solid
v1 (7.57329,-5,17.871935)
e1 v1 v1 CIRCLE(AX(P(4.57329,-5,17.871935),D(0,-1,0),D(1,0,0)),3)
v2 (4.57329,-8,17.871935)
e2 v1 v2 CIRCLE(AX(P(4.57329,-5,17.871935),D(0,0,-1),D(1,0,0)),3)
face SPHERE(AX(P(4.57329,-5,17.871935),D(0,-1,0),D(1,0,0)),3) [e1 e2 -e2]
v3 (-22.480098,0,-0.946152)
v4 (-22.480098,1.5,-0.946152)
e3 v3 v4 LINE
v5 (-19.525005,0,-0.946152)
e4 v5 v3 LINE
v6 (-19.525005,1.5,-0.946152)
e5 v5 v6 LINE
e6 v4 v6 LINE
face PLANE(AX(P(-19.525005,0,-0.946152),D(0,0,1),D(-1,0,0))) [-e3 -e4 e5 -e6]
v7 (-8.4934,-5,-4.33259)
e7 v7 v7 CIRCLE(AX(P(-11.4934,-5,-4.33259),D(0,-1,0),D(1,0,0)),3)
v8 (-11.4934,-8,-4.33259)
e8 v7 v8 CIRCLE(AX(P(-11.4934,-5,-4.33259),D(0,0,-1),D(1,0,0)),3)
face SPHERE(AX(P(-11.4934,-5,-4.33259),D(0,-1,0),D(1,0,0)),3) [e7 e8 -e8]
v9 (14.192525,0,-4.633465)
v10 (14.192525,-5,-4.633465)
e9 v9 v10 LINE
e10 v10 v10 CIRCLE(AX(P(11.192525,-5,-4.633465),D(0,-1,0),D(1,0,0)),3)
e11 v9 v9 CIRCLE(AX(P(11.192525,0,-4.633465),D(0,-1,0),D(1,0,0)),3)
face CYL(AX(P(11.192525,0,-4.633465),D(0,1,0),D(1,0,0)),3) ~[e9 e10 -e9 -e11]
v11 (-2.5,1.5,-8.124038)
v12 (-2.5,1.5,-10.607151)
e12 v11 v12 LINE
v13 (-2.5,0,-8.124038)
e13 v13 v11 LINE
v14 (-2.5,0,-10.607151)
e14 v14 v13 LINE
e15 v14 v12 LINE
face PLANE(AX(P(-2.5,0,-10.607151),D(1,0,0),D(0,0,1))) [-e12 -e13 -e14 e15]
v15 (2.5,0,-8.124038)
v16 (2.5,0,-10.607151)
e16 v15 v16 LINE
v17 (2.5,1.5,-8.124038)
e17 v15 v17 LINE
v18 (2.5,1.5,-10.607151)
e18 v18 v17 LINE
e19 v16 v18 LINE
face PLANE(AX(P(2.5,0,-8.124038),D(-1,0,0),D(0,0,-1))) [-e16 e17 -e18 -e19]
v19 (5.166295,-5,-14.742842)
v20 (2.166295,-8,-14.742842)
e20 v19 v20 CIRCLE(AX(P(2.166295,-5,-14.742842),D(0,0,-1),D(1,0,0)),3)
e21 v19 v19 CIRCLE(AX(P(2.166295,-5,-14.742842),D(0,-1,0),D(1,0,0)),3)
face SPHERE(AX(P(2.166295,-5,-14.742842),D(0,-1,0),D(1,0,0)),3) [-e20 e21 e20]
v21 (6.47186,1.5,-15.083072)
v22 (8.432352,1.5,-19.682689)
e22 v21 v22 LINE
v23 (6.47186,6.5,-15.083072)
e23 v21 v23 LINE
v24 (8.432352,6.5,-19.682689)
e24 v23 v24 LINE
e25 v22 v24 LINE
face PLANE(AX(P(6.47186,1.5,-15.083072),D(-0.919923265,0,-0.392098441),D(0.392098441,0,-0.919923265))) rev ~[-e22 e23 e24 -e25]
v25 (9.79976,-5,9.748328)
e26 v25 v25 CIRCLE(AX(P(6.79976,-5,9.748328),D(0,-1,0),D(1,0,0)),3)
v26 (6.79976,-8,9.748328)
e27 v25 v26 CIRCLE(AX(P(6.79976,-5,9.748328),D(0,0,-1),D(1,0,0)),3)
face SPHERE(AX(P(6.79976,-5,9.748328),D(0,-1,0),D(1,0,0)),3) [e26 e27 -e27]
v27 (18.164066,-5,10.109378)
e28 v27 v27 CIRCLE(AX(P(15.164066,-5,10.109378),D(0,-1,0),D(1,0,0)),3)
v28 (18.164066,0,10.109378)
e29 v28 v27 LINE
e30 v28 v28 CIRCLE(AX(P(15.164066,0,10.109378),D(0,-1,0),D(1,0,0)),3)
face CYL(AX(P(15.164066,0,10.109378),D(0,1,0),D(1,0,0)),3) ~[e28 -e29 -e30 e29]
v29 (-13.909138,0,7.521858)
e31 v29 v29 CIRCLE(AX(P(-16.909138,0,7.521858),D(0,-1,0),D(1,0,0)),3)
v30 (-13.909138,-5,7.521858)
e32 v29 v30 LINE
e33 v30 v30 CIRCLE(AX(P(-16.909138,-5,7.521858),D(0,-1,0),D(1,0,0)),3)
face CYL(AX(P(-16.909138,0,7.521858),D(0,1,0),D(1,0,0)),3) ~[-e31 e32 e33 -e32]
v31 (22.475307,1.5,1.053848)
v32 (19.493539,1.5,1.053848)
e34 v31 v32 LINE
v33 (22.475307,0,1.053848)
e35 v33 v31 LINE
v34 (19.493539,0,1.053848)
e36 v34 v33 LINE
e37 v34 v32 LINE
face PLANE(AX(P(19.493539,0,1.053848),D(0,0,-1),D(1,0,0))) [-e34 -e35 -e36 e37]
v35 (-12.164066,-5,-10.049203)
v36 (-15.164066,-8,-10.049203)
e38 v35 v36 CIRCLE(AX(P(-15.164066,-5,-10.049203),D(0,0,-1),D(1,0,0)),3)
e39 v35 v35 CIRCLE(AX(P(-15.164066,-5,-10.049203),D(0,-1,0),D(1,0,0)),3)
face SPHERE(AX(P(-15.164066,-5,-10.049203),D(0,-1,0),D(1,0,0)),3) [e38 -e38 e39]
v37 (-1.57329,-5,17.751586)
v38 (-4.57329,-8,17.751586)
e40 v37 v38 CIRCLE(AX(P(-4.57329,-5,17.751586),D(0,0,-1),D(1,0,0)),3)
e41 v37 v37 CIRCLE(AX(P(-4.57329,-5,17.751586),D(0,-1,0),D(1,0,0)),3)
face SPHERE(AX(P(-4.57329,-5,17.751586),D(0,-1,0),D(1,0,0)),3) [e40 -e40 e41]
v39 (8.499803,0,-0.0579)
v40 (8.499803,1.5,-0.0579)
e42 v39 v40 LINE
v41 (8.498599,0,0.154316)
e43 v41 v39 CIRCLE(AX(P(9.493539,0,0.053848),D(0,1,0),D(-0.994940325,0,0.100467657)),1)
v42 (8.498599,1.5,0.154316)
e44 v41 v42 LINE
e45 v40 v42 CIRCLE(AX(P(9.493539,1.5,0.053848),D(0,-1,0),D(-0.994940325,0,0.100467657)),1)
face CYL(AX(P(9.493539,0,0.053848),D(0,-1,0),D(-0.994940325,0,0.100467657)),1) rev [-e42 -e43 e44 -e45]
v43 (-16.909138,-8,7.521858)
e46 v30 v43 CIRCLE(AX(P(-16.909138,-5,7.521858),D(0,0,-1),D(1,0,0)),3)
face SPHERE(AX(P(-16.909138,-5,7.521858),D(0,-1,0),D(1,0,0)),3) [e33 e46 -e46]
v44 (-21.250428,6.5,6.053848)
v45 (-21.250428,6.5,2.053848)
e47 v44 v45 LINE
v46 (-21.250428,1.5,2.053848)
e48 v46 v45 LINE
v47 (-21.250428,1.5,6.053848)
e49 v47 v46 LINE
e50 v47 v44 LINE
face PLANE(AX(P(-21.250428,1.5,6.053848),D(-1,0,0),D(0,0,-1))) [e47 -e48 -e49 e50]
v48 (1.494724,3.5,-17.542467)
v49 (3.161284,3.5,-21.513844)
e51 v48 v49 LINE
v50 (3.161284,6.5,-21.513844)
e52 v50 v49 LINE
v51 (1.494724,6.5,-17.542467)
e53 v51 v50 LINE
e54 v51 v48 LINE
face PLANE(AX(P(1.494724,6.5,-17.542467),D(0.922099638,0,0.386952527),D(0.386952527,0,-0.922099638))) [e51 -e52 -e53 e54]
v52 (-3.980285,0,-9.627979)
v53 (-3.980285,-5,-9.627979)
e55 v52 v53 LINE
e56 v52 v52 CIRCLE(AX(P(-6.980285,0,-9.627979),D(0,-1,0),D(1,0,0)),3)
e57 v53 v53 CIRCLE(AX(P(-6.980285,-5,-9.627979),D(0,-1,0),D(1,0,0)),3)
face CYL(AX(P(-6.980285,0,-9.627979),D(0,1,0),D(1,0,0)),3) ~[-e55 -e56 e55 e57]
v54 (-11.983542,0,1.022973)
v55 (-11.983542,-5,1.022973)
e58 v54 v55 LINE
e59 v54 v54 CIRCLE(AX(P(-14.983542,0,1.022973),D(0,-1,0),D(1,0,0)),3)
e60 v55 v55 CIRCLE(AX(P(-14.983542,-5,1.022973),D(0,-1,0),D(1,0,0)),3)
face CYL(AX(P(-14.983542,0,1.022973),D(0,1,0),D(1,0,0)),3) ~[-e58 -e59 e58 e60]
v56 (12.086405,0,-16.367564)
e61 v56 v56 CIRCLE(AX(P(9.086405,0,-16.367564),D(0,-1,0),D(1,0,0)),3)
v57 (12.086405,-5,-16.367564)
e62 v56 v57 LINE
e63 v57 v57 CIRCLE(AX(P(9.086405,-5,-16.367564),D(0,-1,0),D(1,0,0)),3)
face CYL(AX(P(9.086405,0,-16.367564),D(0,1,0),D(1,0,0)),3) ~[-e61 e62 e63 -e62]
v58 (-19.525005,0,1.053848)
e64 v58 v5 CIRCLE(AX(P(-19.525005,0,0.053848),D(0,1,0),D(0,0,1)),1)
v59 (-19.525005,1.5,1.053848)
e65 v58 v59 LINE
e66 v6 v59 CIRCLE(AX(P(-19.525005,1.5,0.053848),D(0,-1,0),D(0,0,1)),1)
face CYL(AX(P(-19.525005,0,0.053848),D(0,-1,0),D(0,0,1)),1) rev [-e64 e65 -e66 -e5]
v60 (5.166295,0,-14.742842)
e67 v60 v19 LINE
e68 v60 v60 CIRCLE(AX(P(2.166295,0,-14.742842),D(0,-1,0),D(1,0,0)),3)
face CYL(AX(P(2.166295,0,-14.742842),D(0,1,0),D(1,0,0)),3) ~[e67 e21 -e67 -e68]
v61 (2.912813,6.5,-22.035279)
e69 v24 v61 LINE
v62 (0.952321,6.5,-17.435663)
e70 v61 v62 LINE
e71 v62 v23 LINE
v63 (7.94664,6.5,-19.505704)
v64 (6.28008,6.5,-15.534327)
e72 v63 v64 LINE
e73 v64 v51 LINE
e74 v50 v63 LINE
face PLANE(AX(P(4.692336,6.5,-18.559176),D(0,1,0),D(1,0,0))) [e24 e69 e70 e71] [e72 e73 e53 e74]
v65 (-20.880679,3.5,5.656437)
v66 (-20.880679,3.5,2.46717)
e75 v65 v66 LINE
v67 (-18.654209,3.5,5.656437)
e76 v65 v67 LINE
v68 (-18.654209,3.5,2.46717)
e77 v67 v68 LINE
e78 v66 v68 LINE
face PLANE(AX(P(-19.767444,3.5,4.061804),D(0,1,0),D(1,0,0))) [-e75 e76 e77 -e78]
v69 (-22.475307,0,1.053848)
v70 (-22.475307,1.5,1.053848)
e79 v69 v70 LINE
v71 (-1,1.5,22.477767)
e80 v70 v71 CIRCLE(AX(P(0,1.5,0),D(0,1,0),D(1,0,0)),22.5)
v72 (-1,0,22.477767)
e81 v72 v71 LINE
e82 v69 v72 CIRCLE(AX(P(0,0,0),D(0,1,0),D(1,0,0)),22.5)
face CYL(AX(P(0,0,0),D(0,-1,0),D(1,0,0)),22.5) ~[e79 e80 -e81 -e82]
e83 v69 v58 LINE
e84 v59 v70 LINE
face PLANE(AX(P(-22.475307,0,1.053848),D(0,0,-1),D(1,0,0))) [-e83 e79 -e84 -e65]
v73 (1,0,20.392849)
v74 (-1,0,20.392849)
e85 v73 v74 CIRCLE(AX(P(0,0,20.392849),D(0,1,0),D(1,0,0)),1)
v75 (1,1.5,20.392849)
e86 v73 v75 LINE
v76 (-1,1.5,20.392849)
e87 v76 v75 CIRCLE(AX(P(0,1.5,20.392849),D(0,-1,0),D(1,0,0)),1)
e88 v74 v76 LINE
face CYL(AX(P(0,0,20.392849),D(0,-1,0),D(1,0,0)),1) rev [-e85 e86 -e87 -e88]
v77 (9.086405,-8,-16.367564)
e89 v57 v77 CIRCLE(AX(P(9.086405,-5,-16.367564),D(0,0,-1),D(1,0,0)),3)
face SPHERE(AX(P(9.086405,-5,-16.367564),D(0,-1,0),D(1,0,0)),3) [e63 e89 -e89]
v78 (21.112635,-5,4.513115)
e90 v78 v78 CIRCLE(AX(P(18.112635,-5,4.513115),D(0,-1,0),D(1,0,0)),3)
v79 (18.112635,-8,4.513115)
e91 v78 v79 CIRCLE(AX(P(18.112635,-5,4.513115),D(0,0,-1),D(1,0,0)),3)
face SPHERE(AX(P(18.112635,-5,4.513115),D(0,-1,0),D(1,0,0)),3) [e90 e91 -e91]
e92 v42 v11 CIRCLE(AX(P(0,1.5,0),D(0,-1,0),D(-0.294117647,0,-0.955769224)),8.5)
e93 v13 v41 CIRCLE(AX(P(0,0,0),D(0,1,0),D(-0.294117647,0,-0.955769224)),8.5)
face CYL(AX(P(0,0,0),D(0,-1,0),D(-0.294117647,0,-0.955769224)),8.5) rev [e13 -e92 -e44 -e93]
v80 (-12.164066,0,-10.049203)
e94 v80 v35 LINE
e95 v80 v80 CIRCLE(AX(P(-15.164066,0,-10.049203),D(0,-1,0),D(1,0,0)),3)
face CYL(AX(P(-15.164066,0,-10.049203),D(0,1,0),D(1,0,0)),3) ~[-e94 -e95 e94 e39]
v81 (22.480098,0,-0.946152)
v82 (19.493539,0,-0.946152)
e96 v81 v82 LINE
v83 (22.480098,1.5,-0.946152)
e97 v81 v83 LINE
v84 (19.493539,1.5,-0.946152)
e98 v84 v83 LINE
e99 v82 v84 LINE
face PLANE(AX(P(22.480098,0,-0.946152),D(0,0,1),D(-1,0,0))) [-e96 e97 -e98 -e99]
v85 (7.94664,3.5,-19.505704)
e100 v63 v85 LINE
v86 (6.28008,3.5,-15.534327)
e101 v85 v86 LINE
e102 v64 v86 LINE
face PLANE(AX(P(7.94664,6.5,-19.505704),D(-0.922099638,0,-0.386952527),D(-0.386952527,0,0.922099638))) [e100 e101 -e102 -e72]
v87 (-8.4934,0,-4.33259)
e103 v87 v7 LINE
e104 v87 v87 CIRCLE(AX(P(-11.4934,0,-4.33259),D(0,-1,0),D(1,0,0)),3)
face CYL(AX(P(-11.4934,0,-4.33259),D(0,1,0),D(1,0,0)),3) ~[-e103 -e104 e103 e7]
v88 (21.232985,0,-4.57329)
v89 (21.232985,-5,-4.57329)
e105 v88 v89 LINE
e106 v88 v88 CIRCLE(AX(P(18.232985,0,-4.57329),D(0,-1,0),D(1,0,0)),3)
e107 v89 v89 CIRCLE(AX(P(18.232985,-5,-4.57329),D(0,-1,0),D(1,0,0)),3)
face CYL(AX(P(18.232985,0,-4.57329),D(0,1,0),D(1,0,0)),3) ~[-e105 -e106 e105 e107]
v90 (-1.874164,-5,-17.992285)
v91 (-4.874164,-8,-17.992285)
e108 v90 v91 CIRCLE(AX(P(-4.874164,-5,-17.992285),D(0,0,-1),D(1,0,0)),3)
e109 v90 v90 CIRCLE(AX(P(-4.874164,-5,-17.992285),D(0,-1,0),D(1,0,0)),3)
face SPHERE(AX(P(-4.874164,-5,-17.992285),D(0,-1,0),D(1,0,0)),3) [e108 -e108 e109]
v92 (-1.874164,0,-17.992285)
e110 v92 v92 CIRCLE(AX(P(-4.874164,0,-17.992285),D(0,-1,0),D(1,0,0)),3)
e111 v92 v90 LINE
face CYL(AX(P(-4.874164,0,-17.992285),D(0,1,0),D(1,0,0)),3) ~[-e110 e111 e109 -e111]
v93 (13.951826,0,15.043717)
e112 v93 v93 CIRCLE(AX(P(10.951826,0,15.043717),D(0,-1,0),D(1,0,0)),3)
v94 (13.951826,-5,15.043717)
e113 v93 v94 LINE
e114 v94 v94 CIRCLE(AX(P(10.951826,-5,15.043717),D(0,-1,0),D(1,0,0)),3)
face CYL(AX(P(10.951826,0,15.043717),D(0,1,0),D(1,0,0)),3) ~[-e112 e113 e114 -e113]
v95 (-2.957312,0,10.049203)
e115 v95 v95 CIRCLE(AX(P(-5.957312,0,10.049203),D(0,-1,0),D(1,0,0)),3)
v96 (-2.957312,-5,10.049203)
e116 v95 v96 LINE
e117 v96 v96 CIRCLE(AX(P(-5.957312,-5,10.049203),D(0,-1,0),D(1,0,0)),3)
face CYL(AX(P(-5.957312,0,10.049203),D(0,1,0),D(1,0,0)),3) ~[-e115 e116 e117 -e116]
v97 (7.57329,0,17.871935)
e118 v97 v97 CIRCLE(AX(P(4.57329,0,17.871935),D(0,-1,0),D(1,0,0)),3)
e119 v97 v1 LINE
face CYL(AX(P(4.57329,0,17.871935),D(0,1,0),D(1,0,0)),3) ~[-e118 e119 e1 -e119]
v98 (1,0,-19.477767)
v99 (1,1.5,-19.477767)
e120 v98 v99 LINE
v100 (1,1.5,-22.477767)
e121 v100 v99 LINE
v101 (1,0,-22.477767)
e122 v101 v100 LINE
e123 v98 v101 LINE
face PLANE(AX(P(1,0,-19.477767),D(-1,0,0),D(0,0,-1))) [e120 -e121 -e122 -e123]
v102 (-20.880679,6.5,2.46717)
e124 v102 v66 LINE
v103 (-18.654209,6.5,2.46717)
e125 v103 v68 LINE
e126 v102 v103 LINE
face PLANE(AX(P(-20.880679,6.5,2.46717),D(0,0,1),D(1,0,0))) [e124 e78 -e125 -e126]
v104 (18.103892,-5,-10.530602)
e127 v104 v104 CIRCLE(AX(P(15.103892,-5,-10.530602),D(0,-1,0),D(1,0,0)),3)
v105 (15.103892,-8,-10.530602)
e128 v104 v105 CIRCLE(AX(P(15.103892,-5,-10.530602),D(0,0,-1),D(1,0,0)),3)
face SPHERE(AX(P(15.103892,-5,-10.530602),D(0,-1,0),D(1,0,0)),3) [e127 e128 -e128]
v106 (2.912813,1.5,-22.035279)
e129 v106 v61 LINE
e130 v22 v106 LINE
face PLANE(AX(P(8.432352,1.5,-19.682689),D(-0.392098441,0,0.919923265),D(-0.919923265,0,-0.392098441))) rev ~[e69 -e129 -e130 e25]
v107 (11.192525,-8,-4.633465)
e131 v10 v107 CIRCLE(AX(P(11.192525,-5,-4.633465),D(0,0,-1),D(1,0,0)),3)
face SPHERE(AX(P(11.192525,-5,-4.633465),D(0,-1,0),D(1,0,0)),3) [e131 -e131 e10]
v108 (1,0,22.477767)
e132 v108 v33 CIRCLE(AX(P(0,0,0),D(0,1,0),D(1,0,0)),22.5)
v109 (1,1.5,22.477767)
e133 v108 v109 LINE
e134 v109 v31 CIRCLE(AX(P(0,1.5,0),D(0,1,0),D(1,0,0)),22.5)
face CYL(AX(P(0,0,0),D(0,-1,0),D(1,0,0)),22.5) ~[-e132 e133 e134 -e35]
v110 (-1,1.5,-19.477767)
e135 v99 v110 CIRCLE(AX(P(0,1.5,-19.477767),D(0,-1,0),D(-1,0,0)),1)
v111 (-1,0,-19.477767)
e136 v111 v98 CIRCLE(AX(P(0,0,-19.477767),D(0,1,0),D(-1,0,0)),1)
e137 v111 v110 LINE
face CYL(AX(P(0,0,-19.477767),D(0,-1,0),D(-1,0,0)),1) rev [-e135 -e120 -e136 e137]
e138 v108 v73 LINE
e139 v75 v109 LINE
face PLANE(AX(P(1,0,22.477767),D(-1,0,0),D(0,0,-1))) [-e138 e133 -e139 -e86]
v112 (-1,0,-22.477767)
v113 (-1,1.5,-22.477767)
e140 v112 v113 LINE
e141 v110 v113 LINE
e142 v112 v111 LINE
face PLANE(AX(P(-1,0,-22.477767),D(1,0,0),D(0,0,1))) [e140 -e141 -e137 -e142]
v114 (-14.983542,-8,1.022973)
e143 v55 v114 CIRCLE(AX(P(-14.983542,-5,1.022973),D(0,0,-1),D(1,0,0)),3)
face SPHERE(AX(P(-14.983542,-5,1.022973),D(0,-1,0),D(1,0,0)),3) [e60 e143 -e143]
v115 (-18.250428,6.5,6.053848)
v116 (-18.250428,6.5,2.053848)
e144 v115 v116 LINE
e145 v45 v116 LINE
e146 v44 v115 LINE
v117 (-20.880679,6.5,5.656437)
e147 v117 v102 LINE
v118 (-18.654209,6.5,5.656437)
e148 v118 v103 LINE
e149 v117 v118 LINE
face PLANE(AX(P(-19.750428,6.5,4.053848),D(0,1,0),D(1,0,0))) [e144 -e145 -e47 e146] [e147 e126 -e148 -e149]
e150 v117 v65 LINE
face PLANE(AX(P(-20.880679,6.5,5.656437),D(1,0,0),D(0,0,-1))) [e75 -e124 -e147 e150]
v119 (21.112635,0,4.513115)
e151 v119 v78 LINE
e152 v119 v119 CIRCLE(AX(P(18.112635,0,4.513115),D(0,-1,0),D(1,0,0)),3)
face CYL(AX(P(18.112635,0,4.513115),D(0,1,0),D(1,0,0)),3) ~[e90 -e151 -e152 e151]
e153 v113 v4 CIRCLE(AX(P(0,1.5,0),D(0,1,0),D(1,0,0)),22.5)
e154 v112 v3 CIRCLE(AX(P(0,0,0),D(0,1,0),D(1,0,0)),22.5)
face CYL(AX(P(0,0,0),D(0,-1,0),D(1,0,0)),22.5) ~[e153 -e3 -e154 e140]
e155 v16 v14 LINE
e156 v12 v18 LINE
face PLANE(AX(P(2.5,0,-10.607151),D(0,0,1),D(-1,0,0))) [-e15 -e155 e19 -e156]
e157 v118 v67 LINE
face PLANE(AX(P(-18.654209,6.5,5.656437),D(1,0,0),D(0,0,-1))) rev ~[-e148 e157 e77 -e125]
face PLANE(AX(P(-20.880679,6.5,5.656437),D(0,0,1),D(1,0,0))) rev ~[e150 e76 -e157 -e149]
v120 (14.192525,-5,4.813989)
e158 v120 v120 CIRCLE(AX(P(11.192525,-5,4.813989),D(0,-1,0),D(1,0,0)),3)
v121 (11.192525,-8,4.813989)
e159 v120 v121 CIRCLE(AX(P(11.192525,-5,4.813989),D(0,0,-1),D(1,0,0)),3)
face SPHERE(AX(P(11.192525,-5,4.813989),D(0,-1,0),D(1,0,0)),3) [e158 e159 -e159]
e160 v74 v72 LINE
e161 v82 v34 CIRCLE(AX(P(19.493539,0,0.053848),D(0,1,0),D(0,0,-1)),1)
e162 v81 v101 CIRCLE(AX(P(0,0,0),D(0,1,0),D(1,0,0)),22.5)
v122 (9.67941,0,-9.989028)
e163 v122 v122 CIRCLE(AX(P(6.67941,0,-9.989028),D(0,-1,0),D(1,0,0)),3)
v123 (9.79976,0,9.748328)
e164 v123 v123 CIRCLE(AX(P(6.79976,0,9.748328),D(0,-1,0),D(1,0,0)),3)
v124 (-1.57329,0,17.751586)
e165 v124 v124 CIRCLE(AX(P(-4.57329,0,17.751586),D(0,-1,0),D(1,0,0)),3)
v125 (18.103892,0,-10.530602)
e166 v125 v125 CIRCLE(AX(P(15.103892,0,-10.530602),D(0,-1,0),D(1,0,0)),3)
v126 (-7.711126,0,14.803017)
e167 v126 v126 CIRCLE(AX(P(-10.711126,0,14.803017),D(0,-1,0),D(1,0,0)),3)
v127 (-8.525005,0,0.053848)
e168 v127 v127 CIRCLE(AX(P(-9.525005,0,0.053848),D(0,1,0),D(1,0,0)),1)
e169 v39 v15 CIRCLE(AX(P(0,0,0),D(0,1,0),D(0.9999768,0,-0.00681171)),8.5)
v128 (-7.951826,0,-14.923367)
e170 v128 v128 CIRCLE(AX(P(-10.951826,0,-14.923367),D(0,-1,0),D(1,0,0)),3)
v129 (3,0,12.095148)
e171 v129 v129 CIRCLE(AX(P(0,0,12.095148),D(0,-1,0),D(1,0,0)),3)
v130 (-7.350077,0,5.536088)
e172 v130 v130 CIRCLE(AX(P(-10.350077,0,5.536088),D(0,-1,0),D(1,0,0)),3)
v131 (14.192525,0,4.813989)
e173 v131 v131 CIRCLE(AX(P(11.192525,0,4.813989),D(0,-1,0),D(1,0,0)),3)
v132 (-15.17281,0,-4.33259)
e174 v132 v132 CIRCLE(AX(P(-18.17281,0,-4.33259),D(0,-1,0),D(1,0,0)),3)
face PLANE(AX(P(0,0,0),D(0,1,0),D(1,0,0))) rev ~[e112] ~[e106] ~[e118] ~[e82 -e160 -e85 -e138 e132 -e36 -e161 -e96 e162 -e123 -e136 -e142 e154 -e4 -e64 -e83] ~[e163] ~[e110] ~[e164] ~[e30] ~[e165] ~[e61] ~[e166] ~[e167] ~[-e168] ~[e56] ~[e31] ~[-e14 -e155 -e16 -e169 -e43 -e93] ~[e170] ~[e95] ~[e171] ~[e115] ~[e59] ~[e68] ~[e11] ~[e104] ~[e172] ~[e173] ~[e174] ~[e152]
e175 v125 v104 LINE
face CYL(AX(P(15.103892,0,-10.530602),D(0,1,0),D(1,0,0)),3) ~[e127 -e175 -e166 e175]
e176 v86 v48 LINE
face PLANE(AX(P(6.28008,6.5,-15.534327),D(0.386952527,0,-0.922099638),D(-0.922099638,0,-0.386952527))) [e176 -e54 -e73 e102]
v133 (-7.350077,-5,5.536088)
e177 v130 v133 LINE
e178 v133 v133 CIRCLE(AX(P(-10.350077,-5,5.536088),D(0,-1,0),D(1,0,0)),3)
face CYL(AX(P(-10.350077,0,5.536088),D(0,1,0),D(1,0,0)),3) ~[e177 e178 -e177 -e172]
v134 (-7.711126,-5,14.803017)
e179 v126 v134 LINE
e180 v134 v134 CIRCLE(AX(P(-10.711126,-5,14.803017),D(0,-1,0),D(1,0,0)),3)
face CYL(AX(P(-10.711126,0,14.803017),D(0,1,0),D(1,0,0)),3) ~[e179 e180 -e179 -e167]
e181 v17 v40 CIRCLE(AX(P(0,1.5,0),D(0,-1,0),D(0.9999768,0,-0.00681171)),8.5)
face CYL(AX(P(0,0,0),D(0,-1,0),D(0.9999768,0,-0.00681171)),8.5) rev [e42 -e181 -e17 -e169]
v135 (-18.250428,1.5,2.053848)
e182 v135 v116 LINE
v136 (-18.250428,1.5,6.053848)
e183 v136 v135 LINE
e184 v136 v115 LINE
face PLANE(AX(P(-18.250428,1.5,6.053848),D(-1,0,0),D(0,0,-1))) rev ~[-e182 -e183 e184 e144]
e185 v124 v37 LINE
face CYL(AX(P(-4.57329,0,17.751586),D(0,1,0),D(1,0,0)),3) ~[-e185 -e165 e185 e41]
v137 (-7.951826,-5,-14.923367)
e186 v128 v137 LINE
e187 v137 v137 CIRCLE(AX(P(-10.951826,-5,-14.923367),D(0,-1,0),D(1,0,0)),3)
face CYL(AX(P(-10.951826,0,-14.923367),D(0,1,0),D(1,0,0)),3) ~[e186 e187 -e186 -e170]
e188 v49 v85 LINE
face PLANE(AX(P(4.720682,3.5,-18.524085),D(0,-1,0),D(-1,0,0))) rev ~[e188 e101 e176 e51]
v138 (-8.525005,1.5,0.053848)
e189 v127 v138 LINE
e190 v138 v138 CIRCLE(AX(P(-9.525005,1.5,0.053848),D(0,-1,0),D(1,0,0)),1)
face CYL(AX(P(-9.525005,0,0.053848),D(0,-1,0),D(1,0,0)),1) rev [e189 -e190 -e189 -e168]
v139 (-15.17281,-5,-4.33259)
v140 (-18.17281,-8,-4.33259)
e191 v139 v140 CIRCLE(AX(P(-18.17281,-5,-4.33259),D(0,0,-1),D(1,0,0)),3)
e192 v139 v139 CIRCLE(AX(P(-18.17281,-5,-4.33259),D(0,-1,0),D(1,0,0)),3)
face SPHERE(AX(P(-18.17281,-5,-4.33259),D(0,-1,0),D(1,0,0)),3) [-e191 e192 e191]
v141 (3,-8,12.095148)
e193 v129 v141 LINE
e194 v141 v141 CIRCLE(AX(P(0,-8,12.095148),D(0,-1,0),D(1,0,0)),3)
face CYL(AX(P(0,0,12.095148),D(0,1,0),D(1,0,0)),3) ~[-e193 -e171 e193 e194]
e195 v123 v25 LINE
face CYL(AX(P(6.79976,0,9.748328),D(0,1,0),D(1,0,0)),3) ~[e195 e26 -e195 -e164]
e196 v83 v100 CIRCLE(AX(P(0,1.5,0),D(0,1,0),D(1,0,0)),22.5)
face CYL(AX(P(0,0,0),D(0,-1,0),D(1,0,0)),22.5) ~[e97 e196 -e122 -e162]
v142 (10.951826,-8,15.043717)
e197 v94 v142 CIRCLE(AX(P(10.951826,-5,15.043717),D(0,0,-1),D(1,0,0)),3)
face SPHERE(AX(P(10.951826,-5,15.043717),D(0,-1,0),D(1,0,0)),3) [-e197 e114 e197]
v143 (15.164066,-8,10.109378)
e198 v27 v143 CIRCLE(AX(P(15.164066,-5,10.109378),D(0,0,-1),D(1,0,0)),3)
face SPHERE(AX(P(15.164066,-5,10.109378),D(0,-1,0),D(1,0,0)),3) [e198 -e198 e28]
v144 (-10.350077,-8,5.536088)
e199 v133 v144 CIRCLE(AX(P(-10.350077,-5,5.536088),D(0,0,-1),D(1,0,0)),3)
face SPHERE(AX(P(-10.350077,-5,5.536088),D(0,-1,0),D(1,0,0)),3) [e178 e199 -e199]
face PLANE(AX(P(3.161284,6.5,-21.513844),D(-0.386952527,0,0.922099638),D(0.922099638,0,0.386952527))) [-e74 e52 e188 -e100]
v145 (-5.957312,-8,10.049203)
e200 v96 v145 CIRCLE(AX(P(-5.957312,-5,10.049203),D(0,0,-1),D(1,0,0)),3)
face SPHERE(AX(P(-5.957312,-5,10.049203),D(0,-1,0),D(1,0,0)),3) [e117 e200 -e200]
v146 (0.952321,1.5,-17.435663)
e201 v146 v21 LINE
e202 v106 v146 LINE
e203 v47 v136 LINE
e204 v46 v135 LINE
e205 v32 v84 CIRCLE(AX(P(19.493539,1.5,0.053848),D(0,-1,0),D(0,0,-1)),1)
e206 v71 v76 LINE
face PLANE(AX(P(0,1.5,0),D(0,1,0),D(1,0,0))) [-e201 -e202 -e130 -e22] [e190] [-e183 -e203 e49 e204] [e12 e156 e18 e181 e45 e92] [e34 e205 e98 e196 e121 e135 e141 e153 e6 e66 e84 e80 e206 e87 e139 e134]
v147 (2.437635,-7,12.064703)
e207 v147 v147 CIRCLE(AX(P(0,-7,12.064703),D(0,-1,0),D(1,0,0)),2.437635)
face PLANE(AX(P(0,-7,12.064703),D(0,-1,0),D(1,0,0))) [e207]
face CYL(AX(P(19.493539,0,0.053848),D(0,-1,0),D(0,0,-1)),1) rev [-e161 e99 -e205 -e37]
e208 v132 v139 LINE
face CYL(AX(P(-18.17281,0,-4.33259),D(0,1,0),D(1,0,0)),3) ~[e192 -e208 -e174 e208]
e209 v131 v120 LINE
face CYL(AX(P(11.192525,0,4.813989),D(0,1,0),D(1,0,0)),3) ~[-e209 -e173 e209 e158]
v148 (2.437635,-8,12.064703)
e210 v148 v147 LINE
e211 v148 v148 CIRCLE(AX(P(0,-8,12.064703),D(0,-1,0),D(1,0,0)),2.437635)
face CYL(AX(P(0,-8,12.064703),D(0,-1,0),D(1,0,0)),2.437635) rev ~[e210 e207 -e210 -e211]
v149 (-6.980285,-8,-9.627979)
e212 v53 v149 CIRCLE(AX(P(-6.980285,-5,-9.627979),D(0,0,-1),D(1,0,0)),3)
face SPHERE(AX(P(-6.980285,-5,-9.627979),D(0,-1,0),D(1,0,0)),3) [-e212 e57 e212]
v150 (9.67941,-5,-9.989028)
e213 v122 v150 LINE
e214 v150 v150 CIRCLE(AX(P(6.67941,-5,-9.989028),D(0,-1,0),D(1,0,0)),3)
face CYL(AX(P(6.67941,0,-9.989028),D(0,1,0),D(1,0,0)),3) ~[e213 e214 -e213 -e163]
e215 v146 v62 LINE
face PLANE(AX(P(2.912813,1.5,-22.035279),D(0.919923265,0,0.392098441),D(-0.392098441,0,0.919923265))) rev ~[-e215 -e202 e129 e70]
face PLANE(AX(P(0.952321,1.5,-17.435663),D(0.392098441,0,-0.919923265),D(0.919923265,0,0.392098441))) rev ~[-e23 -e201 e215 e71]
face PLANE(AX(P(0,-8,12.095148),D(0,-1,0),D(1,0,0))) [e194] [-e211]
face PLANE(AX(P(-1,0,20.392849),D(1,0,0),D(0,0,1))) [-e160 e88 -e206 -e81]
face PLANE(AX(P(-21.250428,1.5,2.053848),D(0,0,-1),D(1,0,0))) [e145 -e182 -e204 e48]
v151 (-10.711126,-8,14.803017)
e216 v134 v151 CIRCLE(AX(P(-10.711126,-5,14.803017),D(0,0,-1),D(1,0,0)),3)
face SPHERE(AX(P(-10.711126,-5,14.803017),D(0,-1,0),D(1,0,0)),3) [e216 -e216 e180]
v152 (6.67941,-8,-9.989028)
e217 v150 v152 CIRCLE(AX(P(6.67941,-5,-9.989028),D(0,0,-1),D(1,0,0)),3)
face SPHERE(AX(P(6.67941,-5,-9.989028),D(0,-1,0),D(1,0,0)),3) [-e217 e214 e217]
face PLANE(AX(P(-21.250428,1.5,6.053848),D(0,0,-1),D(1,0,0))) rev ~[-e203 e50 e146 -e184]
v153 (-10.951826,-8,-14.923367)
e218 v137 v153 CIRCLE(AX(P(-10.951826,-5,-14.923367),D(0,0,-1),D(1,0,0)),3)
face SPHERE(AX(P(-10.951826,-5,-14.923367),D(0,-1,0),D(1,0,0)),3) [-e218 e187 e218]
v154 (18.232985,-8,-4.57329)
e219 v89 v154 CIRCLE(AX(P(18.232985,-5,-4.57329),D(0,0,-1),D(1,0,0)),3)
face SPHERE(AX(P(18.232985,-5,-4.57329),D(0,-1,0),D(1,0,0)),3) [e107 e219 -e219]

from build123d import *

# Parameters (mm, degrees)
SKETCH1_R           = 22.5
BOSS_EXTRUDE1_DEPTH = 1.5
SKETCH1_4_R         = 1
CUT_EXTRUDE1_DEPTH  = 10
SKETCH3_W           = 3
SKETCH3_H           = 4
BOSS_EXTRUDE2_DEPTH = 5
SKETCH4_R           = 3
BOSS_EXTRUDE3_DEPTH = 8
FILLET1_R           = 3
SKETCH5_R           = 2.437634963
CUT_EXTRUDE2_DEPTH  = 1
SKETCH6_W           = 2.226470075
SKETCH6_H           = 3.189267945
CUT_EXTRUDE3_DEPTH  = 3


with BuildPart() as part:
    # Sketch1 → Boss-Extrude1 (new body)
    with BuildSketch(Plane(origin=(0, 0, 0), x_dir=(1, 0, 0), z_dir=(0, 1, 0))):
        Circle(SKETCH1_R)
    extrude(amount=BOSS_EXTRUDE1_DEPTH)

    # Sketch1<4> → Cut-Extrude1 (cut)
    with BuildSketch(Plane(origin=(0, 0, 0), x_dir=(1, 0, 0), z_dir=(0, 1, 0))):
        with BuildLine():
            Line((-22.475306545, -1.053848038), (-19.525005447, -1.053848038))
            ThreePointArc((-19.525005447, -1.053848038), (-18.525005447, -0.053848038), (-19.525005447, 0.946151962))
            Line((-19.525005447, 0.946151962), (-22.480097786, 0.946151962))
            ThreePointArc((-22.480097786, 0.946151962), (-22.499935437, -0.0539013), (-22.475306545, -1.053848038))
        make_face()
        with BuildLine():
            Line((-1, -20.392849405), (-1, -22.477766793))
            ThreePointArc((-1, -22.477766793), (0, -22.5), (1, -22.477766793))
            Line((1, -22.477766793), (1, -20.392849405))
            ThreePointArc((1, -20.392849405), (0, -19.392849405), (-1, -20.392849405))
        make_face()
        with BuildLine():
            ThreePointArc((1, 22.477766793), (0, 22.5), (-1, 22.477766793))
            Line((-1, 22.477766793), (-1, 19.477766793))
            ThreePointArc((-1, 19.477766793), (0, 18.477766793), (1, 19.477766793))
            Line((1, 19.477766793), (1, 22.477766793))
        make_face()
        with BuildLine():
            Line((19.493539425, -1.053848038), (22.475306545, -1.053848038))
            ThreePointArc((22.475306545, -1.053848038), (22.499935437, -0.0539013), (22.480097786, 0.946151962))
            Line((22.480097786, 0.946151962), (19.493539425, 0.946151962))
            ThreePointArc((19.493539425, 0.946151962), (18.493539425, -0.053848038), (19.493539425, -1.053848038))
        make_face()
        with BuildLine():
            Line((2.5, 10.607150595), (-2.5, 10.607150595))
            Line((-2.5, 10.607150595), (-2.5, 8.124038405))
            ThreePointArc((-2.5, 8.124038405), (-5.111612704, -6.791274958), (8.4985991, -0.154315694))
            ThreePointArc((8.4985991, -0.154315694), (10.493523339, -0.059520018), (8.4998028, 0.057899538))
            ThreePointArc((8.4998028, 0.057899538), (6.820158683, 5.0730105), (2.5, 8.124038405))
            Line((2.5, 8.124038405), (2.5, 10.607150595))
        make_face()
        with Locations((-9.525005447, -0.053848038)):
            Circle(SKETCH1_4_R)
    extrude(amount=CUT_EXTRUDE1_DEPTH, mode=Mode.SUBTRACT)

    # Sketch3 → Boss-Extrude2 (add)
    with BuildSketch(Plane(origin=(0, 1.5, 0), x_dir=(1, 0, 0), z_dir=(0, 1, 0))):
        Polygon((2.912812777, 22.035279399), (0.952320574, 17.435663076), (6.471860162, 15.083072432), (8.432352365, 19.682688755), align=None)
        with Locations((-19.750427717, -4.053848038)):
            Rectangle(SKETCH3_W, SKETCH3_H)
    extrude(amount=BOSS_EXTRUDE2_DEPTH)

    # Sketch4 → Boss-Extrude3 (add)
    with BuildSketch(Plane.XZ):
        with Locations((0, 12.095148247)):
            Circle(SKETCH4_R)
        with Locations((-4.573289884, 17.751585735)):
            Circle(SKETCH4_R)
        with Locations((4.573289884, 17.871935469)):
            Circle(SKETCH4_R)
        with Locations((10.951825776, 15.043716725)):
            Circle(SKETCH4_R)
        with Locations((6.79975996, 9.748328438)):
            Circle(SKETCH4_R)
        with Locations((18.112634937, 4.513115017)):
            Circle(SKETCH4_R)
        with Locations((15.164066458, 10.109377639)):
            Circle(SKETCH4_R)
        with Locations((11.192525243, 4.813989352)):
            Circle(SKETCH4_R)
        with Locations((18.23298467, -4.573289884)):
            Circle(SKETCH4_R)
        with Locations((11.192525243, -4.633464751)):
            Circle(SKETCH4_R)
        with Locations((15.103891592, -10.530601707)):
            Circle(SKETCH4_R)
        with Locations((6.679410226, -9.989027905)):
            Circle(SKETCH4_R)
        with Locations((9.086404902, -16.367563796)):
            Circle(SKETCH4_R)
        with Locations((2.166295208, -14.74284239)):
            Circle(SKETCH4_R)
        with Locations((-4.874164219, -17.992285203)):
            Circle(SKETCH4_R)
        with Locations((-10.951825776, -14.923366991)):
            Circle(SKETCH4_R)
        with Locations((-6.98028456, -9.627978704)):
            Circle(SKETCH4_R)
        with Locations((-11.493399578, -4.332590417)):
            Circle(SKETCH4_R)
        with Locations((-18.172809803, -4.332590417)):
            Circle(SKETCH4_R)
        with Locations((-15.164066458, -10.049202772)):
            Circle(SKETCH4_R)
        with Locations((-14.983541858, 1.022972737)):
            Circle(SKETCH4_R)
        with Locations((-10.350077107, 5.536087755)):
            Circle(SKETCH4_R)
        with Locations((-16.909137599, 7.521858362)):
            Circle(SKETCH4_R)
        with Locations((-5.957311823, 10.049202772)):
            Circle(SKETCH4_R)
        with Locations((-10.711126308, 14.803017257)):
            Circle(SKETCH4_R)
    extrude(amount=BOSS_EXTRUDE3_DEPTH)

    # Fillet1
    fillet1_edges = [part.edges().sort_by_distance(p)[0] for p in [
        (-7.573289884, -8, 17.751585735),
        (1.573289884, -8, 17.871935469),
        (7.951825776, -8, 15.043716725),
        (3.79975996, -8, 9.748328438),
        (15.112634937, -8, 4.513115017),
        (12.164066458, -8, 10.109377639),
        (8.192525243, -8, 4.813989352),
        (15.23298467, -8, -4.573289884),
        (8.192525243, -8, -4.633464751),
        (12.103891592, -8, -10.530601707),
        (3.679410226, -8, -9.989027905),
        (6.086404902, -8, -16.367563796),
        (-0.833704792, -8, -14.74284239),
        (-7.874164219, -8, -17.992285203),
        (-13.951825776, -8, -14.923366991),
        (-9.98028456, -8, -9.627978704),
        (-14.493399578, -8, -4.332590417),
        (-21.172809803, -8, -4.332590417),
        (-18.164066458, -8, -10.049202772),
        (-17.983541858, -8, 1.022972737),
        (-13.350077107, -8, 5.536087755),
        (-19.909137599, -8, 7.521858362),
        (-8.957311823, -8, 10.049202772),
        (-13.711126308, -8, 14.803017257),
    ]]
    fillet(fillet1_edges, radius=FILLET1_R)

    # Sketch5 → Cut-Extrude2 (cut)
    with BuildSketch(Plane.XZ.offset(8)):
        with Locations((0, 12.064702743)):
            Circle(SKETCH5_R)
    extrude(amount=-CUT_EXTRUDE2_DEPTH, mode=Mode.SUBTRACT)

    # Sketch6 → Cut-Extrude3 (cut)
    with BuildSketch(Plane(origin=(0, 6.5, 0), x_dir=(1, 0, 0), z_dir=(0, 1, 0))):
        Polygon((1.494724423, 17.542466767), (3.161284436, 21.513843818), (7.946639755, 19.50570364), (6.280079742, 15.534326588), align=None)
        with Locations((-19.767443777, -4.061803516)):
            Rectangle(SKETCH6_W, SKETCH6_H)
    extrude(amount=-CUT_EXTRUDE3_DEPTH, mode=Mode.SUBTRACT)


solid = part.part
